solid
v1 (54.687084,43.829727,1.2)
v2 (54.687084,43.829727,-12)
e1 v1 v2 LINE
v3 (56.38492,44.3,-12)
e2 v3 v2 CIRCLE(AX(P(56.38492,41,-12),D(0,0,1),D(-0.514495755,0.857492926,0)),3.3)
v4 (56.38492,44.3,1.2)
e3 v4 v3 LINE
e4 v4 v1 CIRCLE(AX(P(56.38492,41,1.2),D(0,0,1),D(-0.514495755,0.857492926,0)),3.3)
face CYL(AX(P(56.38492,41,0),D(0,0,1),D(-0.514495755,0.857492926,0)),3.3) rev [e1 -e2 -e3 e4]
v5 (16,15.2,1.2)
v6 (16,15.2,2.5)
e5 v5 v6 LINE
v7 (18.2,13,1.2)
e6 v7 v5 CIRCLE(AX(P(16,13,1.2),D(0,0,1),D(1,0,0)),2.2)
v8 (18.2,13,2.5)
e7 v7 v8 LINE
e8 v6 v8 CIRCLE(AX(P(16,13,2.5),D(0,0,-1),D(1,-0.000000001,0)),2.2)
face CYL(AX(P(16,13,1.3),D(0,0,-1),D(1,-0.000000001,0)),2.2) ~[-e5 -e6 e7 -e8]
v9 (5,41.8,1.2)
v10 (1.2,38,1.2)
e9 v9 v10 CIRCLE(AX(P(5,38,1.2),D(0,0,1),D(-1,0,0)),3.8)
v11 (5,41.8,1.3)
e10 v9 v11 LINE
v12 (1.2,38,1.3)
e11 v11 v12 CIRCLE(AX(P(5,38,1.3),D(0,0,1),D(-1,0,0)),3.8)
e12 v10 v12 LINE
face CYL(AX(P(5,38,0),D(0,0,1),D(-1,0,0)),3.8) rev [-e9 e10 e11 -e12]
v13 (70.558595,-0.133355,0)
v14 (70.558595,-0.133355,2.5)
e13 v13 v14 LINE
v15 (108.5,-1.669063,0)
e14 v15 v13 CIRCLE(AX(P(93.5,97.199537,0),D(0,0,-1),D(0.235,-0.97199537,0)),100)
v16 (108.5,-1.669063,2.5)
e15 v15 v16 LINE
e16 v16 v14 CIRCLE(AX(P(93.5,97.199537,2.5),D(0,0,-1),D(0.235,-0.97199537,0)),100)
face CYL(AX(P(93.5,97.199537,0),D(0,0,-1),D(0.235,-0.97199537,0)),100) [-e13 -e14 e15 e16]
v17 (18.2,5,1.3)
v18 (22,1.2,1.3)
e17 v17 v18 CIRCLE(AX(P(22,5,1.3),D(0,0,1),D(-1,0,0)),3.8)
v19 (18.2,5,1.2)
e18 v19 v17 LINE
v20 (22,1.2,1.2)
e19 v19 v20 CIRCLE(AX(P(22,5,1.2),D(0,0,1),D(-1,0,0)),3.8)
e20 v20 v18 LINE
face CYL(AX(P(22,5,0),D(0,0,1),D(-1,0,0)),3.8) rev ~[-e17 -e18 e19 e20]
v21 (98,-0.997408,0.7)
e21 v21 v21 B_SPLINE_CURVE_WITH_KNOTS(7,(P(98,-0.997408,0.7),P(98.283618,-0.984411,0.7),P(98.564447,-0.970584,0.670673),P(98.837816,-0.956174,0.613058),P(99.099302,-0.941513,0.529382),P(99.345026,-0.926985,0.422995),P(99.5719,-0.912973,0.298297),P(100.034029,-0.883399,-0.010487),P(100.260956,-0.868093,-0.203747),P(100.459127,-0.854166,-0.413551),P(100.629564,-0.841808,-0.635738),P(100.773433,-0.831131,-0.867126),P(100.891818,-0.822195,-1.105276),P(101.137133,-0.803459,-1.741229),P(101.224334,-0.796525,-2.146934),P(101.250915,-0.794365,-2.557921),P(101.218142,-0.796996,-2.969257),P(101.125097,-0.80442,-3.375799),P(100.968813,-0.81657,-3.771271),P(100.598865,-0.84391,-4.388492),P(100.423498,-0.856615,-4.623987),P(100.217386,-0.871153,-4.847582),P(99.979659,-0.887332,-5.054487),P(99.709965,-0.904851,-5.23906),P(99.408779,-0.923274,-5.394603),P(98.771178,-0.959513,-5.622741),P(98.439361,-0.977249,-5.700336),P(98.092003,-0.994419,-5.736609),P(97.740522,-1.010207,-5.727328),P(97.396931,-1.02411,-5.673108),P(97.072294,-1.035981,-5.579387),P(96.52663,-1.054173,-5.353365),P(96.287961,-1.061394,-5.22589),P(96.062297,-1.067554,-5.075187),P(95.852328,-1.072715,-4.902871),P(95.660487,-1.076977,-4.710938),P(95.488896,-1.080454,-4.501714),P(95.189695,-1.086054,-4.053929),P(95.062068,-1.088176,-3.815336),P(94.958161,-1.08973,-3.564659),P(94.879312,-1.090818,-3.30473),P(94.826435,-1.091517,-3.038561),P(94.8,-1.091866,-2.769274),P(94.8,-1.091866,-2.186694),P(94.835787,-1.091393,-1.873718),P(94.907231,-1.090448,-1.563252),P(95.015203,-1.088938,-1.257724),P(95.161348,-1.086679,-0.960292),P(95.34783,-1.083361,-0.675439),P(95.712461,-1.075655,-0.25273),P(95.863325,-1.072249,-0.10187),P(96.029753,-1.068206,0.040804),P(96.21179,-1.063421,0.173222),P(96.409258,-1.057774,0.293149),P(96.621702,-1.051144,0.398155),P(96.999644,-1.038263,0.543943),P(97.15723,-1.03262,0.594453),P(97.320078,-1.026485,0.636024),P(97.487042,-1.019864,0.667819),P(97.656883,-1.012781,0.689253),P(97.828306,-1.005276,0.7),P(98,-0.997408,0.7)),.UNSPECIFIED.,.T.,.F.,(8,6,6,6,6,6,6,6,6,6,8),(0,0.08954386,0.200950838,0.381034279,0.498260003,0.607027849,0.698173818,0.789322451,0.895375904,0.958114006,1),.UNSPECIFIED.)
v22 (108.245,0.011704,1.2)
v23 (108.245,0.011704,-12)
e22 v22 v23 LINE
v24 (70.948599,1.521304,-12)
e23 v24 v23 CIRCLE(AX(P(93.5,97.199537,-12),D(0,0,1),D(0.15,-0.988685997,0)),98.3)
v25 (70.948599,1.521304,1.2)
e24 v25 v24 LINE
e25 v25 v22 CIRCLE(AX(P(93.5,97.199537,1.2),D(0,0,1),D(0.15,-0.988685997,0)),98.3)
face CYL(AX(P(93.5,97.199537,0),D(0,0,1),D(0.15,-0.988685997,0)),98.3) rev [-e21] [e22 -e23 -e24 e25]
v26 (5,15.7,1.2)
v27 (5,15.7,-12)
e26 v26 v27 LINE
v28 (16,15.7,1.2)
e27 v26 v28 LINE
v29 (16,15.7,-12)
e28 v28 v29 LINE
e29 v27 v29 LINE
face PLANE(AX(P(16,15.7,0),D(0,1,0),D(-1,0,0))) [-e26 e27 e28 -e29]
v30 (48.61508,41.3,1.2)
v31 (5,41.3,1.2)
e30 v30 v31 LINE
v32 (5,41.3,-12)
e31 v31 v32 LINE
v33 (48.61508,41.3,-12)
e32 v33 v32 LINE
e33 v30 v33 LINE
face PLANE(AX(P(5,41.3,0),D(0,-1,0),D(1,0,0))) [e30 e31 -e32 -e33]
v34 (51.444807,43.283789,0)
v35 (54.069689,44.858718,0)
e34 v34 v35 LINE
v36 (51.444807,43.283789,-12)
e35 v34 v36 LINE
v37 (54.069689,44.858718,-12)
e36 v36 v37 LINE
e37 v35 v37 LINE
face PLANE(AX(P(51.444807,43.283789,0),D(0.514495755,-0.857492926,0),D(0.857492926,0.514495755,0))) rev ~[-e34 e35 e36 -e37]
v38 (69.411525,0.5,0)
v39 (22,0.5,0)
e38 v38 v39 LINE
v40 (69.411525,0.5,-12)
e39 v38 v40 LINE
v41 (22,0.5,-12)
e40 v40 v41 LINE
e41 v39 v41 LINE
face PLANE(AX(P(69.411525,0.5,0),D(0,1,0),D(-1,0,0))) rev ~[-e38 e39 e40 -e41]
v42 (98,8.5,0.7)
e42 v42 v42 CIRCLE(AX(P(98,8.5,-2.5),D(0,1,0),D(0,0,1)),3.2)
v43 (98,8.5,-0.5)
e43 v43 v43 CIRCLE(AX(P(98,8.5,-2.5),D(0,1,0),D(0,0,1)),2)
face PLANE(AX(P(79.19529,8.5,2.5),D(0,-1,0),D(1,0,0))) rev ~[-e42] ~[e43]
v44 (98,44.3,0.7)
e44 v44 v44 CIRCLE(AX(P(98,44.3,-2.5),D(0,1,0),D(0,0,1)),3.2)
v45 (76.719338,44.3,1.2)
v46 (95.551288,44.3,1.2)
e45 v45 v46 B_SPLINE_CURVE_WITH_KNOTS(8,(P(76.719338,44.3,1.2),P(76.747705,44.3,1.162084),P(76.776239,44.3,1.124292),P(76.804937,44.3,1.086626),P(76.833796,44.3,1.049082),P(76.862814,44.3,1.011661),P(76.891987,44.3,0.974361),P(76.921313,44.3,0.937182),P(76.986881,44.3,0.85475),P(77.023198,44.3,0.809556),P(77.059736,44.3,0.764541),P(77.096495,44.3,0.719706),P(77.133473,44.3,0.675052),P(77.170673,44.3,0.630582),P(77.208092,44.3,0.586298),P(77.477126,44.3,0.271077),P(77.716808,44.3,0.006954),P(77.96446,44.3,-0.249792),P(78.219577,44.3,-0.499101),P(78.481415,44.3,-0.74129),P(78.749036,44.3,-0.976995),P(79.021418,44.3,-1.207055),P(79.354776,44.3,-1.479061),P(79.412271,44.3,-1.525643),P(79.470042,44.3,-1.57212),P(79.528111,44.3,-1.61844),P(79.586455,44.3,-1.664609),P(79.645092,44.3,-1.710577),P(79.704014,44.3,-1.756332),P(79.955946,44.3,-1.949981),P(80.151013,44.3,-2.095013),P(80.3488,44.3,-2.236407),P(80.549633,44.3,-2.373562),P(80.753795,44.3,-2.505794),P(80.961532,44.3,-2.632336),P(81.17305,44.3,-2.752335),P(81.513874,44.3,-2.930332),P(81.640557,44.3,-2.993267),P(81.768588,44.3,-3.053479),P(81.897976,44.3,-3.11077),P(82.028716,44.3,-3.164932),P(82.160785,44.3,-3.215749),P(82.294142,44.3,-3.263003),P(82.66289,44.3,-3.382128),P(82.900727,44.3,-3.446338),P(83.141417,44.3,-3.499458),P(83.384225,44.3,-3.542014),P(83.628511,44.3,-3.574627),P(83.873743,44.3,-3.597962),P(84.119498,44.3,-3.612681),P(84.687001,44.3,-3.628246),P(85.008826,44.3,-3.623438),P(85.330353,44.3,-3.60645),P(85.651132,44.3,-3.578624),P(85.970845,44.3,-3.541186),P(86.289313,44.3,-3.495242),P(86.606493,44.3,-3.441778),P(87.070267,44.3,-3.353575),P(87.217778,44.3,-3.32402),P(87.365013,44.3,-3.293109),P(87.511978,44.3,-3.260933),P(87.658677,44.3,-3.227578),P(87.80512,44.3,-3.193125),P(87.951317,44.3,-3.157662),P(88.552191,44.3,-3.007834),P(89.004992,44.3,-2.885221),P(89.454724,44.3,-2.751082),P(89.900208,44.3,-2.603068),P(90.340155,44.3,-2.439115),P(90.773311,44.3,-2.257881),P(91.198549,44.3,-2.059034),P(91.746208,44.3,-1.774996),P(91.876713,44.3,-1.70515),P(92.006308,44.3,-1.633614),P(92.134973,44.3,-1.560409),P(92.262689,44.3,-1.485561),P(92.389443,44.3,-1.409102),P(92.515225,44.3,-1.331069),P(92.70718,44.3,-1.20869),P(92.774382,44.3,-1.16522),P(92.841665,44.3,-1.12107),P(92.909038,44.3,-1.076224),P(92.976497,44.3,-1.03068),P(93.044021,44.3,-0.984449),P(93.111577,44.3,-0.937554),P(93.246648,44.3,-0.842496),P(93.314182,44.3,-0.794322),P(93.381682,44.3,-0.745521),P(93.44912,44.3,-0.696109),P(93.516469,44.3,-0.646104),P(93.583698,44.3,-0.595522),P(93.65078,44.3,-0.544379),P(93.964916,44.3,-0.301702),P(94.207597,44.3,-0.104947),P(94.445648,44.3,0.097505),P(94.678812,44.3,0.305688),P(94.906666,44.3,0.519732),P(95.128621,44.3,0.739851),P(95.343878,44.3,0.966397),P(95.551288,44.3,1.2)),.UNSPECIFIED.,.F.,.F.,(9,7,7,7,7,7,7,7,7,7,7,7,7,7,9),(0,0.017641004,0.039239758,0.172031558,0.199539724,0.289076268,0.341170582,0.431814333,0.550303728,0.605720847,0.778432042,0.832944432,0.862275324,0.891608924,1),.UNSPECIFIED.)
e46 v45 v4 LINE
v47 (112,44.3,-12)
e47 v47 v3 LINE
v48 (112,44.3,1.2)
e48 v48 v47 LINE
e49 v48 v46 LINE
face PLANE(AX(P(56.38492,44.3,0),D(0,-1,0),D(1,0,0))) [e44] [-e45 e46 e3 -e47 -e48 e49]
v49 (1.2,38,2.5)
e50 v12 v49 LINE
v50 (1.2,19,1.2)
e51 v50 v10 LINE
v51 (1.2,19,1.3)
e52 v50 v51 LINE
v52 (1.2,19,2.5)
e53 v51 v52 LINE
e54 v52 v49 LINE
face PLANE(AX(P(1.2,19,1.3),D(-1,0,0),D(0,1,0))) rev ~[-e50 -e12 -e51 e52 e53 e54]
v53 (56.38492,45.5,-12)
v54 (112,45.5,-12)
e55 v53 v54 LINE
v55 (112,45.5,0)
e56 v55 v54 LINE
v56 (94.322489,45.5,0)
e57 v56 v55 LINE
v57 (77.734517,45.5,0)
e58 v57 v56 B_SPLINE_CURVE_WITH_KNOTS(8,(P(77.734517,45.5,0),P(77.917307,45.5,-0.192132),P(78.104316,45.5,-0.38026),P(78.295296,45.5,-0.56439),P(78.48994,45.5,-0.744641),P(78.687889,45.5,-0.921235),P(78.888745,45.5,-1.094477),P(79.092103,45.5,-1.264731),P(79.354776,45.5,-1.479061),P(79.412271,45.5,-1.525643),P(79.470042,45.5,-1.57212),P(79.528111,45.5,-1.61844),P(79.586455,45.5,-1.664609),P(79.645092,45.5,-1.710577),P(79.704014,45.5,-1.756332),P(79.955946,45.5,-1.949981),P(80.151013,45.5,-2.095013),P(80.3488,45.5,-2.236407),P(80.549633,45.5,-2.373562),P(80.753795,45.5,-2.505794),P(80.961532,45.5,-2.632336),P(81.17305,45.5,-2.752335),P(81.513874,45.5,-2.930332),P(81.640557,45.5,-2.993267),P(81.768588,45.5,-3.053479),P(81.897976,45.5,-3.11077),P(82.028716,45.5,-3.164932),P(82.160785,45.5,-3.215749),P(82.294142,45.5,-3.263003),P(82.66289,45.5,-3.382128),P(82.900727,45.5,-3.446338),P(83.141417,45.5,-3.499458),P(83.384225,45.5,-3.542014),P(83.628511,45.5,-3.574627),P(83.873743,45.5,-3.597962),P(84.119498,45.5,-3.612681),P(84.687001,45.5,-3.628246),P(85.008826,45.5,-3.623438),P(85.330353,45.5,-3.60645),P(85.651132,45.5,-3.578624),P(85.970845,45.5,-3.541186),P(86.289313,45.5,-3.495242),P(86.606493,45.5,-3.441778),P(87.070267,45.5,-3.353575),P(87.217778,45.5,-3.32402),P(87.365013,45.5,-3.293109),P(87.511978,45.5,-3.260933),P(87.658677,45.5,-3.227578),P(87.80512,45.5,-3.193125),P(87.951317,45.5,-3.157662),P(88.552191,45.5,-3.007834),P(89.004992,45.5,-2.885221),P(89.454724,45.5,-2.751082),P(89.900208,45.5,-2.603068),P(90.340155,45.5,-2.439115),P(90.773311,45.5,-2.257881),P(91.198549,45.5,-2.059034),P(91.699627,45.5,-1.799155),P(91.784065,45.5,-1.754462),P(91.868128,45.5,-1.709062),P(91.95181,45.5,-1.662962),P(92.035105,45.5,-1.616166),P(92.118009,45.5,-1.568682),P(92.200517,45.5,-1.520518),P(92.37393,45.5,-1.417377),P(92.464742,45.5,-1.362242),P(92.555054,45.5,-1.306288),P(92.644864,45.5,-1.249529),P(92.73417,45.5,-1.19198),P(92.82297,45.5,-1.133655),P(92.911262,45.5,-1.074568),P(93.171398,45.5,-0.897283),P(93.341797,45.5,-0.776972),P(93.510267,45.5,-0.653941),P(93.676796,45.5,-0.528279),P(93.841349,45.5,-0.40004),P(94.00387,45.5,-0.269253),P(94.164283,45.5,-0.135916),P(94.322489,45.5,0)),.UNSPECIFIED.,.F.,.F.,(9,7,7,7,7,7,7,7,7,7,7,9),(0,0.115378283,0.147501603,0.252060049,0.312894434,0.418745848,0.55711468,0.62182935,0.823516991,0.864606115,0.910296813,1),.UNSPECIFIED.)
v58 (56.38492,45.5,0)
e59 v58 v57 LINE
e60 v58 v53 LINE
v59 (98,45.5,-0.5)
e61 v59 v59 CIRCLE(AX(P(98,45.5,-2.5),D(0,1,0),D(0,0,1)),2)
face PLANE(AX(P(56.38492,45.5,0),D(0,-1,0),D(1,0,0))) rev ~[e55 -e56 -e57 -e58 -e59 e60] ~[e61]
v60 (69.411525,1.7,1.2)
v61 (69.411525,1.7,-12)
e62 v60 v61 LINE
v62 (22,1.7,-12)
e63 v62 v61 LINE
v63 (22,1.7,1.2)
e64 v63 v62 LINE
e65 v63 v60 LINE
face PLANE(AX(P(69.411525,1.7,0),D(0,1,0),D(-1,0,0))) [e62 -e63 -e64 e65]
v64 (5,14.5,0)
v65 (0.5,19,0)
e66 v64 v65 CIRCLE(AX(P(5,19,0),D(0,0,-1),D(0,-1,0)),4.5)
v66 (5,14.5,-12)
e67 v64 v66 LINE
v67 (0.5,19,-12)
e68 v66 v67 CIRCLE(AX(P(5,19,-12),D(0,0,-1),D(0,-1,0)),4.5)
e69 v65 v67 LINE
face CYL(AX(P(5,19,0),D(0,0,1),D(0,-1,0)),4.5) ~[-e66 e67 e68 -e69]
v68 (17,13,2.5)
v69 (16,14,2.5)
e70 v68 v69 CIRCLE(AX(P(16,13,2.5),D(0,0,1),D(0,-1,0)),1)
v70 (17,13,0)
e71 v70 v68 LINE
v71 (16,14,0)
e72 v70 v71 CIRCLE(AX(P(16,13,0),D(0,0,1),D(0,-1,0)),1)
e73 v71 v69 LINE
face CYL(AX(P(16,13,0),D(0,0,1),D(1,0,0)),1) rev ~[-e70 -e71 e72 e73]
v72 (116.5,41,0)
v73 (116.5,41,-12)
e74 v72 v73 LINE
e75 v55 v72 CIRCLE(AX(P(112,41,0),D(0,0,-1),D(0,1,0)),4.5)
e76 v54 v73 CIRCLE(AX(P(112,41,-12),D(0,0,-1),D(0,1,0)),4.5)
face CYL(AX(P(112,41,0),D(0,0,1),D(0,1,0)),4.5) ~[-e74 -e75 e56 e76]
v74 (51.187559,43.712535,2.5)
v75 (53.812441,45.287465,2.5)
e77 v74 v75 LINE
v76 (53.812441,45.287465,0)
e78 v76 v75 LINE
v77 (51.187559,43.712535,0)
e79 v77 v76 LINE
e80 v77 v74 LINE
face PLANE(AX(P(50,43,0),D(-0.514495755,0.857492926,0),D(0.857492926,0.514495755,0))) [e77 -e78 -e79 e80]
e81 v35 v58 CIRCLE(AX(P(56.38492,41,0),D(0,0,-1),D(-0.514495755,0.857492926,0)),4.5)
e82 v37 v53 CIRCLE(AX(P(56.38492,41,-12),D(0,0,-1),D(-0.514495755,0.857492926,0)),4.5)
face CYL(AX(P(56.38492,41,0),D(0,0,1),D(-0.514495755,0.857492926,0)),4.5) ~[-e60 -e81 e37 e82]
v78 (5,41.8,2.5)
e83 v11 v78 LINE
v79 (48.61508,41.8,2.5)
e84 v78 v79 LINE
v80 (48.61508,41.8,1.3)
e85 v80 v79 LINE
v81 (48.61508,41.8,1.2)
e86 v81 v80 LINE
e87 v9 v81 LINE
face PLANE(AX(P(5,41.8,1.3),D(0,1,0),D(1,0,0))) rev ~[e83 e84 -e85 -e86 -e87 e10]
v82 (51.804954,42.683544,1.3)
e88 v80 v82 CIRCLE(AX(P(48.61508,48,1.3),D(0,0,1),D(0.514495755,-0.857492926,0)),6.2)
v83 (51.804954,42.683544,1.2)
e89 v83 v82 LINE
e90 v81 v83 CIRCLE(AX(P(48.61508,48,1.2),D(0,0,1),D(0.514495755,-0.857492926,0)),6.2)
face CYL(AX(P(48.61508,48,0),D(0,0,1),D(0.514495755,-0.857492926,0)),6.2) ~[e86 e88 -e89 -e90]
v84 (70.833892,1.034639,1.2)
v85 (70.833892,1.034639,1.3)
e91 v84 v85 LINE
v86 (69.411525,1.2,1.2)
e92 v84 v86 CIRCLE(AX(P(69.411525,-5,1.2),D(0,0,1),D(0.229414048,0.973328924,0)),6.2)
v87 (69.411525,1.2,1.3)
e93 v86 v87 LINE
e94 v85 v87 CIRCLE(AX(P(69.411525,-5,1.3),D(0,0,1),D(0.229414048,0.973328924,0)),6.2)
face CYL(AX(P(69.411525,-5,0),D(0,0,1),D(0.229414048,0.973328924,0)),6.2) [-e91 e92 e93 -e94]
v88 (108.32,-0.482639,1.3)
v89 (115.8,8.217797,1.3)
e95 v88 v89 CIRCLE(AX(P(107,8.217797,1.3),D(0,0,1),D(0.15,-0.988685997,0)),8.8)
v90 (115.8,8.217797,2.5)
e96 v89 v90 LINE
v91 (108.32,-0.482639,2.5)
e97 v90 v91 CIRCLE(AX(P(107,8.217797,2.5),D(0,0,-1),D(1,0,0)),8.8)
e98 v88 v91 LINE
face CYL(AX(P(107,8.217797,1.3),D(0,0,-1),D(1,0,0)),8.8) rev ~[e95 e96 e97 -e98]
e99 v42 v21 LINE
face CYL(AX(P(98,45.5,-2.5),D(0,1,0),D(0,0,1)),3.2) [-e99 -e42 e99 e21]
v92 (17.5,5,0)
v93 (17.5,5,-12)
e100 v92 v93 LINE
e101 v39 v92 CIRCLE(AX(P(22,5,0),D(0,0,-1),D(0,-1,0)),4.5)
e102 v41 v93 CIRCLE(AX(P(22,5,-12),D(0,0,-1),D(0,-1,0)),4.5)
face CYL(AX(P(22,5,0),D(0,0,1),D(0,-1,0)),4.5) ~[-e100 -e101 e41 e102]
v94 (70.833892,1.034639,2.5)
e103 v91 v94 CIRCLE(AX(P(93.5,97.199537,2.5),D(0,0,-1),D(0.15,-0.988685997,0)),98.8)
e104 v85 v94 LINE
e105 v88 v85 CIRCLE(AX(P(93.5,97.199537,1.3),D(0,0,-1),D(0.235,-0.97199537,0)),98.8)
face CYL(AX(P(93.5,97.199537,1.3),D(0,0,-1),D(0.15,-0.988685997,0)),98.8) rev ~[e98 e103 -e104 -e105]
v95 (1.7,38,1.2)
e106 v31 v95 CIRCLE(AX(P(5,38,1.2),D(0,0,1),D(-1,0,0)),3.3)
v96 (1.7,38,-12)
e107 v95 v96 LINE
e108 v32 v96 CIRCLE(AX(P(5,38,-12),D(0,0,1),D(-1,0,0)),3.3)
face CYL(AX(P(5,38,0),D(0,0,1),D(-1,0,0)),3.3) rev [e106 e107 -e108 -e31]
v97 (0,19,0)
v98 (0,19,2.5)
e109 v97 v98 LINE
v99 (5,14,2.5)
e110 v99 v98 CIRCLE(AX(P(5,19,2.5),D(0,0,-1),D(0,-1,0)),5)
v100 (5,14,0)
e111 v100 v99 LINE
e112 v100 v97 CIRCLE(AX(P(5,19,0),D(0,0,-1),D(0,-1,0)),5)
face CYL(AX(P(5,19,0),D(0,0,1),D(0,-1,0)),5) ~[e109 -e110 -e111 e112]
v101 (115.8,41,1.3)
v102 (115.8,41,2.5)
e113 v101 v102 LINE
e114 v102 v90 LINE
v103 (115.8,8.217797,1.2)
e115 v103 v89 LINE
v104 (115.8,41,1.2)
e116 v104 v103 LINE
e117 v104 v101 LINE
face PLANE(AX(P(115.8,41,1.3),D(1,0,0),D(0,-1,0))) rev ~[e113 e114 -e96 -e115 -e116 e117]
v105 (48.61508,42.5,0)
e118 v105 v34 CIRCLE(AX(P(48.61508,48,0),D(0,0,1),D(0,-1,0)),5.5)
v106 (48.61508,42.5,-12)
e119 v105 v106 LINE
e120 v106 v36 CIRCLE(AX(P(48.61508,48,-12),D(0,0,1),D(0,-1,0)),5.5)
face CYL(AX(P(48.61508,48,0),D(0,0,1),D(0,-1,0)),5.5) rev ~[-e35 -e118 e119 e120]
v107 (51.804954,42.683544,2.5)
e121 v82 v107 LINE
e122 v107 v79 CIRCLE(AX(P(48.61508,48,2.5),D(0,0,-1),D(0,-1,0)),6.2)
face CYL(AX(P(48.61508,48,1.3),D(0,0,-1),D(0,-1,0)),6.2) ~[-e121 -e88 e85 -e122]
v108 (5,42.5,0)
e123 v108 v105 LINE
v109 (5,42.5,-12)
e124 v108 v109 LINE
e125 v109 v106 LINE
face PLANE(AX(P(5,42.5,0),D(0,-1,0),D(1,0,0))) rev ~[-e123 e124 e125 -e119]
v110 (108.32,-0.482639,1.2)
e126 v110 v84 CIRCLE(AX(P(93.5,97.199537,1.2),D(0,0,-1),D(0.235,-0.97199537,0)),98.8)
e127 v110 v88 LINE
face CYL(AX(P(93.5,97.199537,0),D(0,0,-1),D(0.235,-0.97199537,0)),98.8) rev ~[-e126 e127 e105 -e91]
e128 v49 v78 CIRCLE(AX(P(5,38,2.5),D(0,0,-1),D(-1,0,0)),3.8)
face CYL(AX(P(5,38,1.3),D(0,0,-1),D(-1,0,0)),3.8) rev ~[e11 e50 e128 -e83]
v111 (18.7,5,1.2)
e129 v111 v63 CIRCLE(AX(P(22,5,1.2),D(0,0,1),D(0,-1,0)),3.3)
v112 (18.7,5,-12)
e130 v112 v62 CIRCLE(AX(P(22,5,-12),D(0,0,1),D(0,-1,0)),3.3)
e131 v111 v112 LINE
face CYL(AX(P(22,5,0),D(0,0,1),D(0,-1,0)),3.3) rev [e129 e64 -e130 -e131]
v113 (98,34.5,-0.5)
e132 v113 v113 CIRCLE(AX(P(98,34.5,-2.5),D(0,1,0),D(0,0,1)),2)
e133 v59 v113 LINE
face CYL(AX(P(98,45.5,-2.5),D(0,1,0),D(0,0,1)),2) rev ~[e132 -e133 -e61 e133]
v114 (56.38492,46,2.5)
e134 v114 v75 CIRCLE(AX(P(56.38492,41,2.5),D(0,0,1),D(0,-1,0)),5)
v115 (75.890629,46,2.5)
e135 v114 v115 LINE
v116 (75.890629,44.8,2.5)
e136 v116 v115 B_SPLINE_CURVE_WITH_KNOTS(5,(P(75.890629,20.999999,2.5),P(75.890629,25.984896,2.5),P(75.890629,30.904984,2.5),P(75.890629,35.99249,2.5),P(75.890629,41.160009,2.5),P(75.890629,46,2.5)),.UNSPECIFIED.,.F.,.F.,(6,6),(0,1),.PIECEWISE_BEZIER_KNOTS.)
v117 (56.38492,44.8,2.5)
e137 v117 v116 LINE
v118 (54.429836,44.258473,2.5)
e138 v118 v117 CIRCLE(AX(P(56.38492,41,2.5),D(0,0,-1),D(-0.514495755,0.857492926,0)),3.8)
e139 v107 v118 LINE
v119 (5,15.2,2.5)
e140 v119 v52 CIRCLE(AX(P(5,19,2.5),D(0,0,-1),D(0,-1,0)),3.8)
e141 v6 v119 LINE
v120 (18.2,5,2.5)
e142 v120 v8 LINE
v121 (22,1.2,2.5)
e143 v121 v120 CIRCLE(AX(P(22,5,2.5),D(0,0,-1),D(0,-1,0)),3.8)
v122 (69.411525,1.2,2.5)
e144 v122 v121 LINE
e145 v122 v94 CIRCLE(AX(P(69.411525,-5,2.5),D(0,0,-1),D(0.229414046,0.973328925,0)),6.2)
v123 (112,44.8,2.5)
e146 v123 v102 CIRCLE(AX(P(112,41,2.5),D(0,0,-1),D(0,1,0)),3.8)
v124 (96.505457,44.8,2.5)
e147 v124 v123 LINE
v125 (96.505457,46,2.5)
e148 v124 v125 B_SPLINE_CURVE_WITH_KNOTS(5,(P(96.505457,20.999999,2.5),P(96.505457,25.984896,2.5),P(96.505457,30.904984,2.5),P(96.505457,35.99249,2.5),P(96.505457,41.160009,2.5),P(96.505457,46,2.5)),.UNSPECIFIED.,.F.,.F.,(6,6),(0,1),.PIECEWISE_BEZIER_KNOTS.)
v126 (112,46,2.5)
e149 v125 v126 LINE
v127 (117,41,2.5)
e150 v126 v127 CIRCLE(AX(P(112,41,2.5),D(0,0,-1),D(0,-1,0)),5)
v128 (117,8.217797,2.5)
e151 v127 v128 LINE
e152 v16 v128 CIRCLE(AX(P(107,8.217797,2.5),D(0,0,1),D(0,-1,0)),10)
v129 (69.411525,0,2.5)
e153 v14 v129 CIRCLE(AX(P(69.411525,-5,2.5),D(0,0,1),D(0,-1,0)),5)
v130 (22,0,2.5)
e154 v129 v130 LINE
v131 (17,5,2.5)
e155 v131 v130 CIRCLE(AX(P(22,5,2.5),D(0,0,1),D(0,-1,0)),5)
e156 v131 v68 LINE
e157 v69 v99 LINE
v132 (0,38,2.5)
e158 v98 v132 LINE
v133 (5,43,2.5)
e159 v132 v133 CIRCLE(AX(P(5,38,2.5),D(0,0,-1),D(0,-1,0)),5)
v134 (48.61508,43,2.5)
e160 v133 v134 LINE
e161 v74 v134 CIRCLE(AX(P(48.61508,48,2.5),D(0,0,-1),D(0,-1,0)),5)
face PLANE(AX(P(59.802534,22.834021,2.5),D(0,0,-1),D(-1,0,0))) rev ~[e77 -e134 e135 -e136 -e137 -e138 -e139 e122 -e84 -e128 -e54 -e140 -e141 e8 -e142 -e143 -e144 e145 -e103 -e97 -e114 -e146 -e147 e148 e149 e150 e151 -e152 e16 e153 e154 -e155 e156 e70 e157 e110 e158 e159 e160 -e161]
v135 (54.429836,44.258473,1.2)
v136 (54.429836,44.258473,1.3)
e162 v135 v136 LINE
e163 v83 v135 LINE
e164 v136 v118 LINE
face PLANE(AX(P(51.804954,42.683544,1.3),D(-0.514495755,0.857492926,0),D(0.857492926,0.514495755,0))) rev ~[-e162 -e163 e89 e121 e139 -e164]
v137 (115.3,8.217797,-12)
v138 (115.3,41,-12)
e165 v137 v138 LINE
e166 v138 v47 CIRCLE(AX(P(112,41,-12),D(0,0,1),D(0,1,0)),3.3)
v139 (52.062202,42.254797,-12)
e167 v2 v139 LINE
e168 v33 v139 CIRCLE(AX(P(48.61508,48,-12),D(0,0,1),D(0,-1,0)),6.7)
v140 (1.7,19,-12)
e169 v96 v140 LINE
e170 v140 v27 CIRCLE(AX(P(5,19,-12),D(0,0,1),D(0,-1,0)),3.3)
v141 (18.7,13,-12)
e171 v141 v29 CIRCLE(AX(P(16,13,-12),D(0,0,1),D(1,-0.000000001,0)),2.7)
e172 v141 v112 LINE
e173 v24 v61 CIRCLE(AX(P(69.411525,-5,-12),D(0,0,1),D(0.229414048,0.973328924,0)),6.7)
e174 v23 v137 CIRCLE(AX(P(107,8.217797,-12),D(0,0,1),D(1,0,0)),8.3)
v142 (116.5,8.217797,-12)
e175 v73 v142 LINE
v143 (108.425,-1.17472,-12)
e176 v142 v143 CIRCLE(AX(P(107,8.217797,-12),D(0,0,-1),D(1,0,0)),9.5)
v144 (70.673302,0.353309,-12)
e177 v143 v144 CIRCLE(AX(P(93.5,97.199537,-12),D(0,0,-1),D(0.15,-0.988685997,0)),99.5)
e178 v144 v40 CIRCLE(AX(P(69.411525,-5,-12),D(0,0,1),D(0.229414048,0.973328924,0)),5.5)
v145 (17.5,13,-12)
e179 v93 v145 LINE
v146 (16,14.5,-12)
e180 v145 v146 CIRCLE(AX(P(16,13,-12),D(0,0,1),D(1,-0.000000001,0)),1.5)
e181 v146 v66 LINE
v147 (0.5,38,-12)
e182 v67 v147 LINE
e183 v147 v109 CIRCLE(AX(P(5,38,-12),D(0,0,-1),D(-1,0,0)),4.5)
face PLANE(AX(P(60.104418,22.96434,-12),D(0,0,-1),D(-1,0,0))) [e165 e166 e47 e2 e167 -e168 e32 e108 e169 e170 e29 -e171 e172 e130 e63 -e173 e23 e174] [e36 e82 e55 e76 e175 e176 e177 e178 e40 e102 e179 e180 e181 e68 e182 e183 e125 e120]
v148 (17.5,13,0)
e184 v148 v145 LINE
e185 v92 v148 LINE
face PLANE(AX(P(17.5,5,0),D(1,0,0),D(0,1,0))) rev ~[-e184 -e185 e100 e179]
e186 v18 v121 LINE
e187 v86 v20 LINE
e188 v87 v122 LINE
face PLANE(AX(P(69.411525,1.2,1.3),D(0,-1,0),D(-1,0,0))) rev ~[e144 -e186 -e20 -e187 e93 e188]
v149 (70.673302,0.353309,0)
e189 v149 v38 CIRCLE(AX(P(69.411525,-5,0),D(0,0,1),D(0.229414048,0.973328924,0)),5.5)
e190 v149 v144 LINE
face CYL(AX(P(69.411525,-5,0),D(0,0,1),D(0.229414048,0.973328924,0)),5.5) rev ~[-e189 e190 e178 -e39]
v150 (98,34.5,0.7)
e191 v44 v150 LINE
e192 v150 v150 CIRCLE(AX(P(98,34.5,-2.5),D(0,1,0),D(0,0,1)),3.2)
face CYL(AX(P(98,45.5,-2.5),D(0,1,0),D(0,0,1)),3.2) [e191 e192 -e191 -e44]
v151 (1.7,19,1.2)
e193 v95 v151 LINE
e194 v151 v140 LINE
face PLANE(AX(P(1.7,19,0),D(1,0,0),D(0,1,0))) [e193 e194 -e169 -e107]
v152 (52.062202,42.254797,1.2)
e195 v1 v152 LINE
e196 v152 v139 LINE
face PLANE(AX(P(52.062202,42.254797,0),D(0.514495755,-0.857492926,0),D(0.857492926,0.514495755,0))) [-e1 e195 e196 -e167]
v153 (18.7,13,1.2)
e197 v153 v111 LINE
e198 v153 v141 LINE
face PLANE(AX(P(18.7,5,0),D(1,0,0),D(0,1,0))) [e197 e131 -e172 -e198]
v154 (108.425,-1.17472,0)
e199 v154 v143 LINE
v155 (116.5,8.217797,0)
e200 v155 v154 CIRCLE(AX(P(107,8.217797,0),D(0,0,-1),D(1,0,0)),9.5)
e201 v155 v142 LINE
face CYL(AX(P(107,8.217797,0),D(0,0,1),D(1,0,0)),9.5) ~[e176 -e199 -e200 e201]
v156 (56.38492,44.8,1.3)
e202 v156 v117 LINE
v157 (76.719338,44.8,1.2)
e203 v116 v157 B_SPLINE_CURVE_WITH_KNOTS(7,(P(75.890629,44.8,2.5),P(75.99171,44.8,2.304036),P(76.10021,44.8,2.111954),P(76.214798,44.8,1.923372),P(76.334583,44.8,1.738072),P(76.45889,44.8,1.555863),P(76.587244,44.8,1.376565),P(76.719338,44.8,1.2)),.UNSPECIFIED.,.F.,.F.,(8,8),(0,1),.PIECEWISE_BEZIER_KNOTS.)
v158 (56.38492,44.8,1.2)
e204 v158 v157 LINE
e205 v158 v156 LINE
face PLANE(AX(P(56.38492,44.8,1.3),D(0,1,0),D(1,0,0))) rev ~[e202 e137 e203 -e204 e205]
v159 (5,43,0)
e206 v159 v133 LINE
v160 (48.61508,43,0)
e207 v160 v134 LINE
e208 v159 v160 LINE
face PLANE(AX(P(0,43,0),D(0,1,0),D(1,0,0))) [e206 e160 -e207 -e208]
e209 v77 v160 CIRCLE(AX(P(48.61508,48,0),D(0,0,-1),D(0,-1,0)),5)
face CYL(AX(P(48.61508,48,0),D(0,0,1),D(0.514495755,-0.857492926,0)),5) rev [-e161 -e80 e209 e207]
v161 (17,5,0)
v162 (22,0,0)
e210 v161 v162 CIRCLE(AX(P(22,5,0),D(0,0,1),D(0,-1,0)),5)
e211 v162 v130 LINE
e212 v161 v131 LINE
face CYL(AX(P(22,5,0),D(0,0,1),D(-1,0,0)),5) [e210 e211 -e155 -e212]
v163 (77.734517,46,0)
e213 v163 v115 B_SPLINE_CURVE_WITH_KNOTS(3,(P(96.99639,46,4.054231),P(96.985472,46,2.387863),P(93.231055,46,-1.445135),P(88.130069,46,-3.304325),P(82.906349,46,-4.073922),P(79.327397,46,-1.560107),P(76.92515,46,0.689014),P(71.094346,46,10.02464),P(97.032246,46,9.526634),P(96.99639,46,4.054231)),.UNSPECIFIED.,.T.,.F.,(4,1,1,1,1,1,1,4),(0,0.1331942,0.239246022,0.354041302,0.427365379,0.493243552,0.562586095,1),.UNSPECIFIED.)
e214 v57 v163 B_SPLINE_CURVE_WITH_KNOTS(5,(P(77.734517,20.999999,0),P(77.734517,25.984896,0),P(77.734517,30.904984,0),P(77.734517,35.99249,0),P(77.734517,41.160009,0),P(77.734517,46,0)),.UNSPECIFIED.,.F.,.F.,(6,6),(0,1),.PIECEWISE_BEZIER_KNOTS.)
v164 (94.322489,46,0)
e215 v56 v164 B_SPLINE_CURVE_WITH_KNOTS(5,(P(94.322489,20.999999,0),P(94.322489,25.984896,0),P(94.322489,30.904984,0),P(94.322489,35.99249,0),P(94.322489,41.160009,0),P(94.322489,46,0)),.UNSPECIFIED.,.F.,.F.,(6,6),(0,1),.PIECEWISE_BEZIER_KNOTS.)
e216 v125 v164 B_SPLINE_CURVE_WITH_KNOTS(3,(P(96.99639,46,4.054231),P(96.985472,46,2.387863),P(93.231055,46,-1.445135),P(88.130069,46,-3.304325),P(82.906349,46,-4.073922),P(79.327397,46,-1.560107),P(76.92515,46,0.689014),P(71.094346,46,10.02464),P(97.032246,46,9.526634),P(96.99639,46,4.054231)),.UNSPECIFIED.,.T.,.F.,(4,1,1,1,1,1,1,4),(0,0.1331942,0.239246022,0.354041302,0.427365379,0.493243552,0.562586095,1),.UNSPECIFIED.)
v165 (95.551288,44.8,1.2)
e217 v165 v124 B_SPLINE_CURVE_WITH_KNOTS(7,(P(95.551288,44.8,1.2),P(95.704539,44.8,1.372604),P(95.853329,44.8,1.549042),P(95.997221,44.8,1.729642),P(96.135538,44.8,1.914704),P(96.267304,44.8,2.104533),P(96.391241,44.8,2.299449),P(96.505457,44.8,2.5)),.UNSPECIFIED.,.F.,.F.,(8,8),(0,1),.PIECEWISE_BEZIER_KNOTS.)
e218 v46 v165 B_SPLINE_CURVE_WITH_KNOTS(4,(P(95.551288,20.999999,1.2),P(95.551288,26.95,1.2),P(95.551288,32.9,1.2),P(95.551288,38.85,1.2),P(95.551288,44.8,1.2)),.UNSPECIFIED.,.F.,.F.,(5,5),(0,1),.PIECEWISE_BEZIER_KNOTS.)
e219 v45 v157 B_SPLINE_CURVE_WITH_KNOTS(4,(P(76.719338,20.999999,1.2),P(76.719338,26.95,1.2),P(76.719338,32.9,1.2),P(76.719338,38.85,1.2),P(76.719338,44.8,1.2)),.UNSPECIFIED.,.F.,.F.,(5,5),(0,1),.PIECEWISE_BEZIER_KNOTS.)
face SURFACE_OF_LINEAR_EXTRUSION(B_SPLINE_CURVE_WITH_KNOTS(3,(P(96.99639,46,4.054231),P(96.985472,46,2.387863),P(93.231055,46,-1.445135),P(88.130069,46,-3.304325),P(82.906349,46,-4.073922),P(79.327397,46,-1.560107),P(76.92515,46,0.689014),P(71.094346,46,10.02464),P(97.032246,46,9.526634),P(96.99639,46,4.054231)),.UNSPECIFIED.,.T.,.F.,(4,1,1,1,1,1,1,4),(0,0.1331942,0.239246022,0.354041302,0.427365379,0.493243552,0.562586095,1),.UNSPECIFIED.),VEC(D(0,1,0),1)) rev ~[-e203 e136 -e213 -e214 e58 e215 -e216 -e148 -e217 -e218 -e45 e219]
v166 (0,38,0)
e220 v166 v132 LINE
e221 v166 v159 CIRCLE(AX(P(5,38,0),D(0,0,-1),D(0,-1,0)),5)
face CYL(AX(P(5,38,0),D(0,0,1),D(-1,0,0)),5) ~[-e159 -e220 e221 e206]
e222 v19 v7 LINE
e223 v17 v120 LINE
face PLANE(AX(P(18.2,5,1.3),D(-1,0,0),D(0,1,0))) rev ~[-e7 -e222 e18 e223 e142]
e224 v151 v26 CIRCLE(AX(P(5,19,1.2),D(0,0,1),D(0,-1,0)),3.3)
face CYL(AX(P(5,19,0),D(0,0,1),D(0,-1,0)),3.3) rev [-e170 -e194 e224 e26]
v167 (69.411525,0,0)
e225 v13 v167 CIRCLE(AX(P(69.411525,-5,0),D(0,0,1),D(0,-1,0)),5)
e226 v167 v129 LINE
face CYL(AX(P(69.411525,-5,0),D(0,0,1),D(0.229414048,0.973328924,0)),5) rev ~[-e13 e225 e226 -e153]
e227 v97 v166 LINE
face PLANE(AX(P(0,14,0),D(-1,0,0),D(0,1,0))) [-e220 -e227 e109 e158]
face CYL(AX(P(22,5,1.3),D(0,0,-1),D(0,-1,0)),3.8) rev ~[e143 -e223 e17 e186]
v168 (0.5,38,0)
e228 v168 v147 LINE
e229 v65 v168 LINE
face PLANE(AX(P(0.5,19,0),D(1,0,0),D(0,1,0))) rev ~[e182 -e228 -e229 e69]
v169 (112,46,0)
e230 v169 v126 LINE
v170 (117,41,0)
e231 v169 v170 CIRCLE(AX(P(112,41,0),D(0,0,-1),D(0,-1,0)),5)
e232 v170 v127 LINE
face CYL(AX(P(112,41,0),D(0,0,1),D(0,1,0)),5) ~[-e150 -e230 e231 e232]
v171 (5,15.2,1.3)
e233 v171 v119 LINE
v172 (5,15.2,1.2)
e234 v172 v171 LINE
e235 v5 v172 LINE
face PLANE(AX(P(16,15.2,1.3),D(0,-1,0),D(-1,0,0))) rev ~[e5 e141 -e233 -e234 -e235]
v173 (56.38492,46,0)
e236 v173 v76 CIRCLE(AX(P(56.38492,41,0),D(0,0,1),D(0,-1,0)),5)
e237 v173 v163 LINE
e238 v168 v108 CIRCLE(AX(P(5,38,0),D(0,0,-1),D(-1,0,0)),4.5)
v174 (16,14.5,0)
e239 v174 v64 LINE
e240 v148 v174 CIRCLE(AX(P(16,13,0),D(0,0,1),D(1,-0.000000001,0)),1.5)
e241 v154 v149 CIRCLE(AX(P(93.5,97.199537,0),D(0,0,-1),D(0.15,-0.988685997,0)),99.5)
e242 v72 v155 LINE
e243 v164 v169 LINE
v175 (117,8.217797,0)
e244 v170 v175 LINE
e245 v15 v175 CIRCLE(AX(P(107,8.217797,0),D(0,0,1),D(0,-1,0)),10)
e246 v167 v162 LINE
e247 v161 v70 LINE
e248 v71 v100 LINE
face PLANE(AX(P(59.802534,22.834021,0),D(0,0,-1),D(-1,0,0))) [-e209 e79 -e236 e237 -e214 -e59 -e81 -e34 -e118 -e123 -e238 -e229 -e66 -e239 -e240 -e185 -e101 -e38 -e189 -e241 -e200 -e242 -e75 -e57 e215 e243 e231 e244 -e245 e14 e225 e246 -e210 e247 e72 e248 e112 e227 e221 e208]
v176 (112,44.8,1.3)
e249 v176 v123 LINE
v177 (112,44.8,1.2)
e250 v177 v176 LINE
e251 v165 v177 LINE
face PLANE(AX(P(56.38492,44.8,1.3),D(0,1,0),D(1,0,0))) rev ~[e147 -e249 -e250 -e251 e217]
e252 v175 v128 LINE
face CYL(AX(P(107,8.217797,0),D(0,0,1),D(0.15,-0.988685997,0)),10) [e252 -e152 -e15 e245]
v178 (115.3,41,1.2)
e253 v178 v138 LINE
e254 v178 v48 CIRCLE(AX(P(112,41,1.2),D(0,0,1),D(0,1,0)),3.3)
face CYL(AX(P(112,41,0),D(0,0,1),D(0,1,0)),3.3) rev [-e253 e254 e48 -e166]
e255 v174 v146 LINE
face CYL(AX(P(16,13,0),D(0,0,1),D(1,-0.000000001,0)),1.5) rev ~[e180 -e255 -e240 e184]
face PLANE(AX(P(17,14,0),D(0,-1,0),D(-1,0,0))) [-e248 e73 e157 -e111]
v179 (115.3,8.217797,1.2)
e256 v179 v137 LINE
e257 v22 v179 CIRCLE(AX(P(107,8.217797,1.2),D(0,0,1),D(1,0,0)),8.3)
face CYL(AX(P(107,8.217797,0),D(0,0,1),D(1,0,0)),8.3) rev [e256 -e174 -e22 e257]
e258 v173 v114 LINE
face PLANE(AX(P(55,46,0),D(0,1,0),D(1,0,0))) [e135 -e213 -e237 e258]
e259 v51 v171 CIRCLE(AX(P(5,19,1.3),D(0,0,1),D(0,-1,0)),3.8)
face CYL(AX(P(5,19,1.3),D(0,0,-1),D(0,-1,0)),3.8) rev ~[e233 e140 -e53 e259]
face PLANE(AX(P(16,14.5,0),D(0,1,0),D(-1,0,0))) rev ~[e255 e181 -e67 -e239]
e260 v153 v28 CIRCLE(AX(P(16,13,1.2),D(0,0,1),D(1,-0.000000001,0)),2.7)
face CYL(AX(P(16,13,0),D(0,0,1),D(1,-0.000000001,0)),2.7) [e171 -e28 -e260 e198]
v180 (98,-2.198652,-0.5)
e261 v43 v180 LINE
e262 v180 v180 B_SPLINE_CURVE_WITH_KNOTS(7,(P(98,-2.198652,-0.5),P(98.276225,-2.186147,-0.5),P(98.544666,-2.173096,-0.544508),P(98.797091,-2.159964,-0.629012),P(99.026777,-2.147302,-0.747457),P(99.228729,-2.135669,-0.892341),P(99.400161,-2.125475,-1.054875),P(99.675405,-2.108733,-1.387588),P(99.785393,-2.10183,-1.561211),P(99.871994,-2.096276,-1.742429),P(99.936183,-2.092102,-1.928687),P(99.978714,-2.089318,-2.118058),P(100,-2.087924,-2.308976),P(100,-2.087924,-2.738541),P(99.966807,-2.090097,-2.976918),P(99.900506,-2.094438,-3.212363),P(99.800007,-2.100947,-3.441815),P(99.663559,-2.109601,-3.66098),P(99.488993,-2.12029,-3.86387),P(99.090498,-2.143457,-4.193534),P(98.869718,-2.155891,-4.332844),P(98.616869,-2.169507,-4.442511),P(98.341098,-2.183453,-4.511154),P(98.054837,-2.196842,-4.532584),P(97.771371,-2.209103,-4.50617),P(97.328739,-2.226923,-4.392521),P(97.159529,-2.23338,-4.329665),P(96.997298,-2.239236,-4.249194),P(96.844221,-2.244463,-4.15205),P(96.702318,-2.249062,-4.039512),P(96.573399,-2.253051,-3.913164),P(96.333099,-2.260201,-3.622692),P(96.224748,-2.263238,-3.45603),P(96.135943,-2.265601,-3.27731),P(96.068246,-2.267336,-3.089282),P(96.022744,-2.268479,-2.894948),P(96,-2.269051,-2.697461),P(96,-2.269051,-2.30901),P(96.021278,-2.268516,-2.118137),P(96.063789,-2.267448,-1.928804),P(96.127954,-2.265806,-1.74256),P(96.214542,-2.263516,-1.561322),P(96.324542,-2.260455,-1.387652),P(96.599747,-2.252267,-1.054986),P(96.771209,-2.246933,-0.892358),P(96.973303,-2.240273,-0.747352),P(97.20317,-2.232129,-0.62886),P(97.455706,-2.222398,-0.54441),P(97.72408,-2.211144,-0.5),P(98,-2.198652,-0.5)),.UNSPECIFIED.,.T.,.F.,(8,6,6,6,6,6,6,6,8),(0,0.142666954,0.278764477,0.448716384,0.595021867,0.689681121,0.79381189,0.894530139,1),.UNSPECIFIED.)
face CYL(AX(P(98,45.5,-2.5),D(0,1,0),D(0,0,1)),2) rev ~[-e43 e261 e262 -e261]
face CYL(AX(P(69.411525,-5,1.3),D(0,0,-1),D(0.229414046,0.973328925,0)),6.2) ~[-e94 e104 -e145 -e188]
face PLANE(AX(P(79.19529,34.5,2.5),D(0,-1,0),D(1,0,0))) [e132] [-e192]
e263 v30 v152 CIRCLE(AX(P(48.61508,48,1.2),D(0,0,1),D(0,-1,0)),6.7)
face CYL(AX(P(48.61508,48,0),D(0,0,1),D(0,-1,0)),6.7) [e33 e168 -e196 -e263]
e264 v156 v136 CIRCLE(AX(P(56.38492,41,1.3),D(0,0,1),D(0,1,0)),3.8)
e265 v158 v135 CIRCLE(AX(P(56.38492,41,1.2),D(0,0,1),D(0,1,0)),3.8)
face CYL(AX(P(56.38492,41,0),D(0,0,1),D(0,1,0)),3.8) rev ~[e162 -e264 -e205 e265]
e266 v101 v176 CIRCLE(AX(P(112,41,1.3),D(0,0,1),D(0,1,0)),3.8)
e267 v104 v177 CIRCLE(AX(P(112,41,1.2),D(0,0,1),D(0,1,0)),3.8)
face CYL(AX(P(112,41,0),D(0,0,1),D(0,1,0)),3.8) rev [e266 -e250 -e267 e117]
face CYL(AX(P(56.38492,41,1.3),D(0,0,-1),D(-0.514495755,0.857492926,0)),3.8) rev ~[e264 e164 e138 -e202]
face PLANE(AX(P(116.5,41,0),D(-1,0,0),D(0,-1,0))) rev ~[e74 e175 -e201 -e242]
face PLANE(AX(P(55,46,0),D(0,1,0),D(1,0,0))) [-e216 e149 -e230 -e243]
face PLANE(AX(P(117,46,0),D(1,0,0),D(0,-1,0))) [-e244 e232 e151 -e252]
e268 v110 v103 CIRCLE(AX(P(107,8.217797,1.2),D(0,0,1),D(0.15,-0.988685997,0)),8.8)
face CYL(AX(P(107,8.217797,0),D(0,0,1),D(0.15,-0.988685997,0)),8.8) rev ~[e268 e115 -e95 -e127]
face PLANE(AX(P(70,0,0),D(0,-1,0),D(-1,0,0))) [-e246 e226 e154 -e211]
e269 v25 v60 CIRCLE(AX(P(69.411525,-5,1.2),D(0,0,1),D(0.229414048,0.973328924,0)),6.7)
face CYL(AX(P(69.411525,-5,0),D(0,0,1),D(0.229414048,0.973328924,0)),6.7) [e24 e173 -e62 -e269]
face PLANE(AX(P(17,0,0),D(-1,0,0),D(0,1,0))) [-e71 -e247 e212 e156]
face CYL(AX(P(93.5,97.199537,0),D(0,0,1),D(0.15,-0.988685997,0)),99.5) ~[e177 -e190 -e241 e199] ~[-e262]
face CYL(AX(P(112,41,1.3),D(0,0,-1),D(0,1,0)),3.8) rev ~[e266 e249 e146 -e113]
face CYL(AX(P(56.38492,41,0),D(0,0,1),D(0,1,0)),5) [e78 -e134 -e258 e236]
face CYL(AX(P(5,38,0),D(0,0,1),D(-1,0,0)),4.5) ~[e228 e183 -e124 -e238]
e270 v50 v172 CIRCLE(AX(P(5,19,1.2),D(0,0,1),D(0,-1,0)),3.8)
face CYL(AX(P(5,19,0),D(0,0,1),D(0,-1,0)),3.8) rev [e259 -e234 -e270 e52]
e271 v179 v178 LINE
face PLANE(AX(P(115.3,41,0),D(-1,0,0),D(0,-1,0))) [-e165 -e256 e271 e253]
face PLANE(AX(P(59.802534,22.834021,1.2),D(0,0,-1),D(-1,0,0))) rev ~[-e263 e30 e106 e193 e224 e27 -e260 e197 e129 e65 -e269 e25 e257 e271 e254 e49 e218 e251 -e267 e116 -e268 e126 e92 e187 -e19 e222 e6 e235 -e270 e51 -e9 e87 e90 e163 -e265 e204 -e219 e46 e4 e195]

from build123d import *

# Parameters (mm, degrees)
EXTRUDE_1_DEPTH     = 2.5
FILLET_1_R          = 5
FILLET_2_R          = 10
FILLET_3_R          = 5
FILLET_4_R          = 1
EXTRUDE_2_DEPTH     = 12
SKETCH_3_R          = 2
CUT_EXTRUDE_1_DEPTH = 128.145329142
SHELL_1_T           = -1.2
CUT_EXTRUDE_2_DEPTH = 127.419500089
SKETCH_5_W          = 29.908945793
SKETCH_5_H          = 26
CUT_EXTRUDE_3_DEPTH = 12
CUT_EXTRUDE_4_DEPTH = 25


with BuildPart() as part:
    # 草图1 → 凸台-拉伸1 (new body)
    with BuildSketch(Plane.XY):
        with BuildLine():
            Line((17, 0), (17, 14))
            Line((17, 14), (0, 14))
            Line((0, 14), (0, 43))
            Line((0, 43), (50, 43))
            Line((50, 43), (55, 46))
            Line((55, 46), (117, 46))
            Line((117, 46), (117, 43))
            Line((117, 43), (117, 0))
            ThreePointArc((117, 0), (93.5, -2.800462964), (70, 0))
            Line((70, 0), (17, 0))
        make_face()
    extrude(amount=EXTRUDE_1_DEPTH)

    # 圆角1
    fillet_1_edges = [part.edges().sort_by_distance(p)[0] for p in [
        (17, 0, 1.25),
        (0, 14, 1.25),
        (0, 43, 1.25),
        (117, 46, 1.25),
    ]]
    fillet(fillet_1_edges, radius=FILLET_1_R)

    # 圆角2
    fillet_2_edges = [part.edges().sort_by_distance(p)[0] for p in [
        (117, 0, 1.25),
    ]]
    fillet(fillet_2_edges, radius=FILLET_2_R)

    # 圆角3
    fillet_3_edges = [part.edges().sort_by_distance(p)[0] for p in [
        (70, 0, 1.25),
        (50, 43, 1.25),
        (55, 46, 1.25),
    ]]
    fillet(fillet_3_edges, radius=FILLET_3_R)

    # 圆角4
    fillet_4_edges = [part.edges().sort_by_distance(p)[0] for p in [
        (17, 14, 1.25),
    ]]
    fillet(fillet_4_edges, radius=FILLET_4_R)

    # 草图2 → 凸台-拉伸2 (add)
    with BuildSketch(Plane(origin=(0, 0, 0), x_dir=(-1, 0, 0), z_dir=(0, 0, -1))):
        with BuildLine():
            Line((-51.44480683, 43.283788909), (-54.069688925, 44.858718166))
            ThreePointArc((-54.069688925, 44.858718166), (-55.183718706, 45.336717177), (-56.384919825, 45.5))
            Line((-56.384919825, 45.5), (-112, 45.5))
            ThreePointArc((-112, 45.5), (-115.181980515, 44.181980515), (-116.5, 41))
            Line((-116.5, 41), (-116.5, 8.217797336))
            ThreePointArc((-116.5, 8.217797336), (-114.203731672, 2.024555051), (-108.425, -1.174719632))
            ThreePointArc((-108.425, -1.174719632), (-89.475956652, -2.219058182), (-70.673302226, 0.353309083))
            ThreePointArc((-70.673302226, 0.353309083), (-70.04666276, 0.463204186), (-69.411524962, 0.5))
            Line((-69.411524962, 0.5), (-22, 0.5))
            ThreePointArc((-22, 0.5), (-18.818019485, 1.818019485), (-17.5, 5))
            Line((-17.5, 5), (-17.5, 13))
            ThreePointArc((-17.5, 13), (-17.060660172, 14.060660172), (-16, 14.5))
            Line((-16, 14.5), (-5, 14.5))
            ThreePointArc((-5, 14.5), (-1.818019485, 15.818019485), (-0.5, 19))
            Line((-0.5, 19), (-0.5, 38))
            ThreePointArc((-0.5, 38), (-1.818019485, 41.181980515), (-5, 42.5))
            Line((-5, 42.5), (-48.615080175, 42.5))
            ThreePointArc((-48.615080175, 42.5), (-50.083214876, 42.699567895), (-51.44480683, 43.283788909))
        make_face()
    extrude(amount=EXTRUDE_2_DEPTH)

    # 草图3 → 切除-拉伸1 (cut, through all)
    with BuildSketch(Plane(origin=(0, 45.5, 0), x_dir=(1, 0, 0), z_dir=(0, 1, 0))):
        with Locations(Location((98, 2.5, 0), (0, 0, 270))):
            Circle(SKETCH_3_R)
    extrude(amount=-CUT_EXTRUDE_1_DEPTH, mode=Mode.SUBTRACT)

    # 抽壳1
    shell_1_openings = [part.faces().sort_by_distance(p)[0] for p in [
        (62.500022263, 22.701927877, -12),
    ]]
    offset(amount=SHELL_1_T, openings=shell_1_openings, kind=Kind.INTERSECTION)

    # 草图4 → 切除-拉伸2 (cut, through all)
    with BuildSketch(Plane(origin=(0, 0, 1.3), x_dir=(-1, 0, 0), z_dir=(0, 0, -1))):
        with BuildLine():
            Line((-56.384919825, 44.8), (-112, 44.8))
            ThreePointArc((-112, 44.8), (-114.687005769, 43.687005769), (-115.8, 41))
            Line((-115.8, 41), (-115.8, 8.217797336))
            ThreePointArc((-115.8, 8.217797336), (-113.672930391, 2.48089922), (-108.32, -0.482639434))
            ThreePointArc((-108.32, -0.482639434), (-89.504266505, -1.519630879), (-70.83389206, 1.03463933))
            ThreePointArc((-70.83389206, 1.03463933), (-70.12749848, 1.158521082), (-69.411524962, 1.2))
            Line((-69.411524962, 1.2), (-22, 1.2))
            ThreePointArc((-22, 1.2), (-19.312994231, 2.312994231), (-18.2, 5))
            Line((-18.2, 5), (-18.2, 13))
            ThreePointArc((-18.2, 13), (-17.555634919, 14.555634919), (-16, 15.2))
            Line((-16, 15.2), (-5, 15.2))
            ThreePointArc((-5, 15.2), (-2.312994231, 16.312994231), (-1.2, 19))
            Line((-1.2, 19), (-1.2, 38))
            ThreePointArc((-1.2, 38), (-2.312994231, 40.687005769), (-5, 41.8))
            Line((-5, 41.8), (-48.615080175, 41.8))
            ThreePointArc((-48.615080175, 41.8), (-50.270068383, 42.024967445), (-51.804953859, 42.683543861))
            Line((-51.804953859, 42.683543861), (-54.429835954, 44.258473118))
            ThreePointArc((-54.429835954, 44.258473118), (-55.370572214, 44.662116727), (-56.384919825, 44.8))
        make_face()
    extrude(amount=-CUT_EXTRUDE_2_DEPTH, mode=Mode.SUBTRACT)

    # 草图5 → 切除-拉伸3 (cut)
    with BuildSketch(Plane.XY.offset(2.5)):
        with Locations((94.149762403, 21.5)):
            Rectangle(SKETCH_5_W, SKETCH_5_H)
    extrude(amount=-CUT_EXTRUDE_3_DEPTH, mode=Mode.SUBTRACT)

    # 草图6 → 切除-拉伸4 (cut)
    with BuildSketch(Plane(origin=(0, 46, 0), x_dir=(1, 0, 0), z_dir=(0, 1, 0))):
        with BuildLine():
            add(Edge.make_bspline(
                [(96.996390033, -4.054230802), (96.985471859, -2.387863189), (93.231055265, 1.445134708), (88.130068901, 3.304325139), (82.90634874, 4.073922209), (79.327396591, 1.560107395), (76.925149921, -0.689014198), (71.094345742, -10.024640193), (97.032245655, -9.526634001), (96.996390033, -4.054230802)],
                knots=[0, 0, 0, 0, 0.1331942, 0.239246022, 0.354041302, 0.427365379, 0.493243552, 0.562586095, 1, 1, 1, 1], degree=3))
        make_face()
    extrude(amount=-CUT_EXTRUDE_4_DEPTH, mode=Mode.SUBTRACT)


solid = part.part
